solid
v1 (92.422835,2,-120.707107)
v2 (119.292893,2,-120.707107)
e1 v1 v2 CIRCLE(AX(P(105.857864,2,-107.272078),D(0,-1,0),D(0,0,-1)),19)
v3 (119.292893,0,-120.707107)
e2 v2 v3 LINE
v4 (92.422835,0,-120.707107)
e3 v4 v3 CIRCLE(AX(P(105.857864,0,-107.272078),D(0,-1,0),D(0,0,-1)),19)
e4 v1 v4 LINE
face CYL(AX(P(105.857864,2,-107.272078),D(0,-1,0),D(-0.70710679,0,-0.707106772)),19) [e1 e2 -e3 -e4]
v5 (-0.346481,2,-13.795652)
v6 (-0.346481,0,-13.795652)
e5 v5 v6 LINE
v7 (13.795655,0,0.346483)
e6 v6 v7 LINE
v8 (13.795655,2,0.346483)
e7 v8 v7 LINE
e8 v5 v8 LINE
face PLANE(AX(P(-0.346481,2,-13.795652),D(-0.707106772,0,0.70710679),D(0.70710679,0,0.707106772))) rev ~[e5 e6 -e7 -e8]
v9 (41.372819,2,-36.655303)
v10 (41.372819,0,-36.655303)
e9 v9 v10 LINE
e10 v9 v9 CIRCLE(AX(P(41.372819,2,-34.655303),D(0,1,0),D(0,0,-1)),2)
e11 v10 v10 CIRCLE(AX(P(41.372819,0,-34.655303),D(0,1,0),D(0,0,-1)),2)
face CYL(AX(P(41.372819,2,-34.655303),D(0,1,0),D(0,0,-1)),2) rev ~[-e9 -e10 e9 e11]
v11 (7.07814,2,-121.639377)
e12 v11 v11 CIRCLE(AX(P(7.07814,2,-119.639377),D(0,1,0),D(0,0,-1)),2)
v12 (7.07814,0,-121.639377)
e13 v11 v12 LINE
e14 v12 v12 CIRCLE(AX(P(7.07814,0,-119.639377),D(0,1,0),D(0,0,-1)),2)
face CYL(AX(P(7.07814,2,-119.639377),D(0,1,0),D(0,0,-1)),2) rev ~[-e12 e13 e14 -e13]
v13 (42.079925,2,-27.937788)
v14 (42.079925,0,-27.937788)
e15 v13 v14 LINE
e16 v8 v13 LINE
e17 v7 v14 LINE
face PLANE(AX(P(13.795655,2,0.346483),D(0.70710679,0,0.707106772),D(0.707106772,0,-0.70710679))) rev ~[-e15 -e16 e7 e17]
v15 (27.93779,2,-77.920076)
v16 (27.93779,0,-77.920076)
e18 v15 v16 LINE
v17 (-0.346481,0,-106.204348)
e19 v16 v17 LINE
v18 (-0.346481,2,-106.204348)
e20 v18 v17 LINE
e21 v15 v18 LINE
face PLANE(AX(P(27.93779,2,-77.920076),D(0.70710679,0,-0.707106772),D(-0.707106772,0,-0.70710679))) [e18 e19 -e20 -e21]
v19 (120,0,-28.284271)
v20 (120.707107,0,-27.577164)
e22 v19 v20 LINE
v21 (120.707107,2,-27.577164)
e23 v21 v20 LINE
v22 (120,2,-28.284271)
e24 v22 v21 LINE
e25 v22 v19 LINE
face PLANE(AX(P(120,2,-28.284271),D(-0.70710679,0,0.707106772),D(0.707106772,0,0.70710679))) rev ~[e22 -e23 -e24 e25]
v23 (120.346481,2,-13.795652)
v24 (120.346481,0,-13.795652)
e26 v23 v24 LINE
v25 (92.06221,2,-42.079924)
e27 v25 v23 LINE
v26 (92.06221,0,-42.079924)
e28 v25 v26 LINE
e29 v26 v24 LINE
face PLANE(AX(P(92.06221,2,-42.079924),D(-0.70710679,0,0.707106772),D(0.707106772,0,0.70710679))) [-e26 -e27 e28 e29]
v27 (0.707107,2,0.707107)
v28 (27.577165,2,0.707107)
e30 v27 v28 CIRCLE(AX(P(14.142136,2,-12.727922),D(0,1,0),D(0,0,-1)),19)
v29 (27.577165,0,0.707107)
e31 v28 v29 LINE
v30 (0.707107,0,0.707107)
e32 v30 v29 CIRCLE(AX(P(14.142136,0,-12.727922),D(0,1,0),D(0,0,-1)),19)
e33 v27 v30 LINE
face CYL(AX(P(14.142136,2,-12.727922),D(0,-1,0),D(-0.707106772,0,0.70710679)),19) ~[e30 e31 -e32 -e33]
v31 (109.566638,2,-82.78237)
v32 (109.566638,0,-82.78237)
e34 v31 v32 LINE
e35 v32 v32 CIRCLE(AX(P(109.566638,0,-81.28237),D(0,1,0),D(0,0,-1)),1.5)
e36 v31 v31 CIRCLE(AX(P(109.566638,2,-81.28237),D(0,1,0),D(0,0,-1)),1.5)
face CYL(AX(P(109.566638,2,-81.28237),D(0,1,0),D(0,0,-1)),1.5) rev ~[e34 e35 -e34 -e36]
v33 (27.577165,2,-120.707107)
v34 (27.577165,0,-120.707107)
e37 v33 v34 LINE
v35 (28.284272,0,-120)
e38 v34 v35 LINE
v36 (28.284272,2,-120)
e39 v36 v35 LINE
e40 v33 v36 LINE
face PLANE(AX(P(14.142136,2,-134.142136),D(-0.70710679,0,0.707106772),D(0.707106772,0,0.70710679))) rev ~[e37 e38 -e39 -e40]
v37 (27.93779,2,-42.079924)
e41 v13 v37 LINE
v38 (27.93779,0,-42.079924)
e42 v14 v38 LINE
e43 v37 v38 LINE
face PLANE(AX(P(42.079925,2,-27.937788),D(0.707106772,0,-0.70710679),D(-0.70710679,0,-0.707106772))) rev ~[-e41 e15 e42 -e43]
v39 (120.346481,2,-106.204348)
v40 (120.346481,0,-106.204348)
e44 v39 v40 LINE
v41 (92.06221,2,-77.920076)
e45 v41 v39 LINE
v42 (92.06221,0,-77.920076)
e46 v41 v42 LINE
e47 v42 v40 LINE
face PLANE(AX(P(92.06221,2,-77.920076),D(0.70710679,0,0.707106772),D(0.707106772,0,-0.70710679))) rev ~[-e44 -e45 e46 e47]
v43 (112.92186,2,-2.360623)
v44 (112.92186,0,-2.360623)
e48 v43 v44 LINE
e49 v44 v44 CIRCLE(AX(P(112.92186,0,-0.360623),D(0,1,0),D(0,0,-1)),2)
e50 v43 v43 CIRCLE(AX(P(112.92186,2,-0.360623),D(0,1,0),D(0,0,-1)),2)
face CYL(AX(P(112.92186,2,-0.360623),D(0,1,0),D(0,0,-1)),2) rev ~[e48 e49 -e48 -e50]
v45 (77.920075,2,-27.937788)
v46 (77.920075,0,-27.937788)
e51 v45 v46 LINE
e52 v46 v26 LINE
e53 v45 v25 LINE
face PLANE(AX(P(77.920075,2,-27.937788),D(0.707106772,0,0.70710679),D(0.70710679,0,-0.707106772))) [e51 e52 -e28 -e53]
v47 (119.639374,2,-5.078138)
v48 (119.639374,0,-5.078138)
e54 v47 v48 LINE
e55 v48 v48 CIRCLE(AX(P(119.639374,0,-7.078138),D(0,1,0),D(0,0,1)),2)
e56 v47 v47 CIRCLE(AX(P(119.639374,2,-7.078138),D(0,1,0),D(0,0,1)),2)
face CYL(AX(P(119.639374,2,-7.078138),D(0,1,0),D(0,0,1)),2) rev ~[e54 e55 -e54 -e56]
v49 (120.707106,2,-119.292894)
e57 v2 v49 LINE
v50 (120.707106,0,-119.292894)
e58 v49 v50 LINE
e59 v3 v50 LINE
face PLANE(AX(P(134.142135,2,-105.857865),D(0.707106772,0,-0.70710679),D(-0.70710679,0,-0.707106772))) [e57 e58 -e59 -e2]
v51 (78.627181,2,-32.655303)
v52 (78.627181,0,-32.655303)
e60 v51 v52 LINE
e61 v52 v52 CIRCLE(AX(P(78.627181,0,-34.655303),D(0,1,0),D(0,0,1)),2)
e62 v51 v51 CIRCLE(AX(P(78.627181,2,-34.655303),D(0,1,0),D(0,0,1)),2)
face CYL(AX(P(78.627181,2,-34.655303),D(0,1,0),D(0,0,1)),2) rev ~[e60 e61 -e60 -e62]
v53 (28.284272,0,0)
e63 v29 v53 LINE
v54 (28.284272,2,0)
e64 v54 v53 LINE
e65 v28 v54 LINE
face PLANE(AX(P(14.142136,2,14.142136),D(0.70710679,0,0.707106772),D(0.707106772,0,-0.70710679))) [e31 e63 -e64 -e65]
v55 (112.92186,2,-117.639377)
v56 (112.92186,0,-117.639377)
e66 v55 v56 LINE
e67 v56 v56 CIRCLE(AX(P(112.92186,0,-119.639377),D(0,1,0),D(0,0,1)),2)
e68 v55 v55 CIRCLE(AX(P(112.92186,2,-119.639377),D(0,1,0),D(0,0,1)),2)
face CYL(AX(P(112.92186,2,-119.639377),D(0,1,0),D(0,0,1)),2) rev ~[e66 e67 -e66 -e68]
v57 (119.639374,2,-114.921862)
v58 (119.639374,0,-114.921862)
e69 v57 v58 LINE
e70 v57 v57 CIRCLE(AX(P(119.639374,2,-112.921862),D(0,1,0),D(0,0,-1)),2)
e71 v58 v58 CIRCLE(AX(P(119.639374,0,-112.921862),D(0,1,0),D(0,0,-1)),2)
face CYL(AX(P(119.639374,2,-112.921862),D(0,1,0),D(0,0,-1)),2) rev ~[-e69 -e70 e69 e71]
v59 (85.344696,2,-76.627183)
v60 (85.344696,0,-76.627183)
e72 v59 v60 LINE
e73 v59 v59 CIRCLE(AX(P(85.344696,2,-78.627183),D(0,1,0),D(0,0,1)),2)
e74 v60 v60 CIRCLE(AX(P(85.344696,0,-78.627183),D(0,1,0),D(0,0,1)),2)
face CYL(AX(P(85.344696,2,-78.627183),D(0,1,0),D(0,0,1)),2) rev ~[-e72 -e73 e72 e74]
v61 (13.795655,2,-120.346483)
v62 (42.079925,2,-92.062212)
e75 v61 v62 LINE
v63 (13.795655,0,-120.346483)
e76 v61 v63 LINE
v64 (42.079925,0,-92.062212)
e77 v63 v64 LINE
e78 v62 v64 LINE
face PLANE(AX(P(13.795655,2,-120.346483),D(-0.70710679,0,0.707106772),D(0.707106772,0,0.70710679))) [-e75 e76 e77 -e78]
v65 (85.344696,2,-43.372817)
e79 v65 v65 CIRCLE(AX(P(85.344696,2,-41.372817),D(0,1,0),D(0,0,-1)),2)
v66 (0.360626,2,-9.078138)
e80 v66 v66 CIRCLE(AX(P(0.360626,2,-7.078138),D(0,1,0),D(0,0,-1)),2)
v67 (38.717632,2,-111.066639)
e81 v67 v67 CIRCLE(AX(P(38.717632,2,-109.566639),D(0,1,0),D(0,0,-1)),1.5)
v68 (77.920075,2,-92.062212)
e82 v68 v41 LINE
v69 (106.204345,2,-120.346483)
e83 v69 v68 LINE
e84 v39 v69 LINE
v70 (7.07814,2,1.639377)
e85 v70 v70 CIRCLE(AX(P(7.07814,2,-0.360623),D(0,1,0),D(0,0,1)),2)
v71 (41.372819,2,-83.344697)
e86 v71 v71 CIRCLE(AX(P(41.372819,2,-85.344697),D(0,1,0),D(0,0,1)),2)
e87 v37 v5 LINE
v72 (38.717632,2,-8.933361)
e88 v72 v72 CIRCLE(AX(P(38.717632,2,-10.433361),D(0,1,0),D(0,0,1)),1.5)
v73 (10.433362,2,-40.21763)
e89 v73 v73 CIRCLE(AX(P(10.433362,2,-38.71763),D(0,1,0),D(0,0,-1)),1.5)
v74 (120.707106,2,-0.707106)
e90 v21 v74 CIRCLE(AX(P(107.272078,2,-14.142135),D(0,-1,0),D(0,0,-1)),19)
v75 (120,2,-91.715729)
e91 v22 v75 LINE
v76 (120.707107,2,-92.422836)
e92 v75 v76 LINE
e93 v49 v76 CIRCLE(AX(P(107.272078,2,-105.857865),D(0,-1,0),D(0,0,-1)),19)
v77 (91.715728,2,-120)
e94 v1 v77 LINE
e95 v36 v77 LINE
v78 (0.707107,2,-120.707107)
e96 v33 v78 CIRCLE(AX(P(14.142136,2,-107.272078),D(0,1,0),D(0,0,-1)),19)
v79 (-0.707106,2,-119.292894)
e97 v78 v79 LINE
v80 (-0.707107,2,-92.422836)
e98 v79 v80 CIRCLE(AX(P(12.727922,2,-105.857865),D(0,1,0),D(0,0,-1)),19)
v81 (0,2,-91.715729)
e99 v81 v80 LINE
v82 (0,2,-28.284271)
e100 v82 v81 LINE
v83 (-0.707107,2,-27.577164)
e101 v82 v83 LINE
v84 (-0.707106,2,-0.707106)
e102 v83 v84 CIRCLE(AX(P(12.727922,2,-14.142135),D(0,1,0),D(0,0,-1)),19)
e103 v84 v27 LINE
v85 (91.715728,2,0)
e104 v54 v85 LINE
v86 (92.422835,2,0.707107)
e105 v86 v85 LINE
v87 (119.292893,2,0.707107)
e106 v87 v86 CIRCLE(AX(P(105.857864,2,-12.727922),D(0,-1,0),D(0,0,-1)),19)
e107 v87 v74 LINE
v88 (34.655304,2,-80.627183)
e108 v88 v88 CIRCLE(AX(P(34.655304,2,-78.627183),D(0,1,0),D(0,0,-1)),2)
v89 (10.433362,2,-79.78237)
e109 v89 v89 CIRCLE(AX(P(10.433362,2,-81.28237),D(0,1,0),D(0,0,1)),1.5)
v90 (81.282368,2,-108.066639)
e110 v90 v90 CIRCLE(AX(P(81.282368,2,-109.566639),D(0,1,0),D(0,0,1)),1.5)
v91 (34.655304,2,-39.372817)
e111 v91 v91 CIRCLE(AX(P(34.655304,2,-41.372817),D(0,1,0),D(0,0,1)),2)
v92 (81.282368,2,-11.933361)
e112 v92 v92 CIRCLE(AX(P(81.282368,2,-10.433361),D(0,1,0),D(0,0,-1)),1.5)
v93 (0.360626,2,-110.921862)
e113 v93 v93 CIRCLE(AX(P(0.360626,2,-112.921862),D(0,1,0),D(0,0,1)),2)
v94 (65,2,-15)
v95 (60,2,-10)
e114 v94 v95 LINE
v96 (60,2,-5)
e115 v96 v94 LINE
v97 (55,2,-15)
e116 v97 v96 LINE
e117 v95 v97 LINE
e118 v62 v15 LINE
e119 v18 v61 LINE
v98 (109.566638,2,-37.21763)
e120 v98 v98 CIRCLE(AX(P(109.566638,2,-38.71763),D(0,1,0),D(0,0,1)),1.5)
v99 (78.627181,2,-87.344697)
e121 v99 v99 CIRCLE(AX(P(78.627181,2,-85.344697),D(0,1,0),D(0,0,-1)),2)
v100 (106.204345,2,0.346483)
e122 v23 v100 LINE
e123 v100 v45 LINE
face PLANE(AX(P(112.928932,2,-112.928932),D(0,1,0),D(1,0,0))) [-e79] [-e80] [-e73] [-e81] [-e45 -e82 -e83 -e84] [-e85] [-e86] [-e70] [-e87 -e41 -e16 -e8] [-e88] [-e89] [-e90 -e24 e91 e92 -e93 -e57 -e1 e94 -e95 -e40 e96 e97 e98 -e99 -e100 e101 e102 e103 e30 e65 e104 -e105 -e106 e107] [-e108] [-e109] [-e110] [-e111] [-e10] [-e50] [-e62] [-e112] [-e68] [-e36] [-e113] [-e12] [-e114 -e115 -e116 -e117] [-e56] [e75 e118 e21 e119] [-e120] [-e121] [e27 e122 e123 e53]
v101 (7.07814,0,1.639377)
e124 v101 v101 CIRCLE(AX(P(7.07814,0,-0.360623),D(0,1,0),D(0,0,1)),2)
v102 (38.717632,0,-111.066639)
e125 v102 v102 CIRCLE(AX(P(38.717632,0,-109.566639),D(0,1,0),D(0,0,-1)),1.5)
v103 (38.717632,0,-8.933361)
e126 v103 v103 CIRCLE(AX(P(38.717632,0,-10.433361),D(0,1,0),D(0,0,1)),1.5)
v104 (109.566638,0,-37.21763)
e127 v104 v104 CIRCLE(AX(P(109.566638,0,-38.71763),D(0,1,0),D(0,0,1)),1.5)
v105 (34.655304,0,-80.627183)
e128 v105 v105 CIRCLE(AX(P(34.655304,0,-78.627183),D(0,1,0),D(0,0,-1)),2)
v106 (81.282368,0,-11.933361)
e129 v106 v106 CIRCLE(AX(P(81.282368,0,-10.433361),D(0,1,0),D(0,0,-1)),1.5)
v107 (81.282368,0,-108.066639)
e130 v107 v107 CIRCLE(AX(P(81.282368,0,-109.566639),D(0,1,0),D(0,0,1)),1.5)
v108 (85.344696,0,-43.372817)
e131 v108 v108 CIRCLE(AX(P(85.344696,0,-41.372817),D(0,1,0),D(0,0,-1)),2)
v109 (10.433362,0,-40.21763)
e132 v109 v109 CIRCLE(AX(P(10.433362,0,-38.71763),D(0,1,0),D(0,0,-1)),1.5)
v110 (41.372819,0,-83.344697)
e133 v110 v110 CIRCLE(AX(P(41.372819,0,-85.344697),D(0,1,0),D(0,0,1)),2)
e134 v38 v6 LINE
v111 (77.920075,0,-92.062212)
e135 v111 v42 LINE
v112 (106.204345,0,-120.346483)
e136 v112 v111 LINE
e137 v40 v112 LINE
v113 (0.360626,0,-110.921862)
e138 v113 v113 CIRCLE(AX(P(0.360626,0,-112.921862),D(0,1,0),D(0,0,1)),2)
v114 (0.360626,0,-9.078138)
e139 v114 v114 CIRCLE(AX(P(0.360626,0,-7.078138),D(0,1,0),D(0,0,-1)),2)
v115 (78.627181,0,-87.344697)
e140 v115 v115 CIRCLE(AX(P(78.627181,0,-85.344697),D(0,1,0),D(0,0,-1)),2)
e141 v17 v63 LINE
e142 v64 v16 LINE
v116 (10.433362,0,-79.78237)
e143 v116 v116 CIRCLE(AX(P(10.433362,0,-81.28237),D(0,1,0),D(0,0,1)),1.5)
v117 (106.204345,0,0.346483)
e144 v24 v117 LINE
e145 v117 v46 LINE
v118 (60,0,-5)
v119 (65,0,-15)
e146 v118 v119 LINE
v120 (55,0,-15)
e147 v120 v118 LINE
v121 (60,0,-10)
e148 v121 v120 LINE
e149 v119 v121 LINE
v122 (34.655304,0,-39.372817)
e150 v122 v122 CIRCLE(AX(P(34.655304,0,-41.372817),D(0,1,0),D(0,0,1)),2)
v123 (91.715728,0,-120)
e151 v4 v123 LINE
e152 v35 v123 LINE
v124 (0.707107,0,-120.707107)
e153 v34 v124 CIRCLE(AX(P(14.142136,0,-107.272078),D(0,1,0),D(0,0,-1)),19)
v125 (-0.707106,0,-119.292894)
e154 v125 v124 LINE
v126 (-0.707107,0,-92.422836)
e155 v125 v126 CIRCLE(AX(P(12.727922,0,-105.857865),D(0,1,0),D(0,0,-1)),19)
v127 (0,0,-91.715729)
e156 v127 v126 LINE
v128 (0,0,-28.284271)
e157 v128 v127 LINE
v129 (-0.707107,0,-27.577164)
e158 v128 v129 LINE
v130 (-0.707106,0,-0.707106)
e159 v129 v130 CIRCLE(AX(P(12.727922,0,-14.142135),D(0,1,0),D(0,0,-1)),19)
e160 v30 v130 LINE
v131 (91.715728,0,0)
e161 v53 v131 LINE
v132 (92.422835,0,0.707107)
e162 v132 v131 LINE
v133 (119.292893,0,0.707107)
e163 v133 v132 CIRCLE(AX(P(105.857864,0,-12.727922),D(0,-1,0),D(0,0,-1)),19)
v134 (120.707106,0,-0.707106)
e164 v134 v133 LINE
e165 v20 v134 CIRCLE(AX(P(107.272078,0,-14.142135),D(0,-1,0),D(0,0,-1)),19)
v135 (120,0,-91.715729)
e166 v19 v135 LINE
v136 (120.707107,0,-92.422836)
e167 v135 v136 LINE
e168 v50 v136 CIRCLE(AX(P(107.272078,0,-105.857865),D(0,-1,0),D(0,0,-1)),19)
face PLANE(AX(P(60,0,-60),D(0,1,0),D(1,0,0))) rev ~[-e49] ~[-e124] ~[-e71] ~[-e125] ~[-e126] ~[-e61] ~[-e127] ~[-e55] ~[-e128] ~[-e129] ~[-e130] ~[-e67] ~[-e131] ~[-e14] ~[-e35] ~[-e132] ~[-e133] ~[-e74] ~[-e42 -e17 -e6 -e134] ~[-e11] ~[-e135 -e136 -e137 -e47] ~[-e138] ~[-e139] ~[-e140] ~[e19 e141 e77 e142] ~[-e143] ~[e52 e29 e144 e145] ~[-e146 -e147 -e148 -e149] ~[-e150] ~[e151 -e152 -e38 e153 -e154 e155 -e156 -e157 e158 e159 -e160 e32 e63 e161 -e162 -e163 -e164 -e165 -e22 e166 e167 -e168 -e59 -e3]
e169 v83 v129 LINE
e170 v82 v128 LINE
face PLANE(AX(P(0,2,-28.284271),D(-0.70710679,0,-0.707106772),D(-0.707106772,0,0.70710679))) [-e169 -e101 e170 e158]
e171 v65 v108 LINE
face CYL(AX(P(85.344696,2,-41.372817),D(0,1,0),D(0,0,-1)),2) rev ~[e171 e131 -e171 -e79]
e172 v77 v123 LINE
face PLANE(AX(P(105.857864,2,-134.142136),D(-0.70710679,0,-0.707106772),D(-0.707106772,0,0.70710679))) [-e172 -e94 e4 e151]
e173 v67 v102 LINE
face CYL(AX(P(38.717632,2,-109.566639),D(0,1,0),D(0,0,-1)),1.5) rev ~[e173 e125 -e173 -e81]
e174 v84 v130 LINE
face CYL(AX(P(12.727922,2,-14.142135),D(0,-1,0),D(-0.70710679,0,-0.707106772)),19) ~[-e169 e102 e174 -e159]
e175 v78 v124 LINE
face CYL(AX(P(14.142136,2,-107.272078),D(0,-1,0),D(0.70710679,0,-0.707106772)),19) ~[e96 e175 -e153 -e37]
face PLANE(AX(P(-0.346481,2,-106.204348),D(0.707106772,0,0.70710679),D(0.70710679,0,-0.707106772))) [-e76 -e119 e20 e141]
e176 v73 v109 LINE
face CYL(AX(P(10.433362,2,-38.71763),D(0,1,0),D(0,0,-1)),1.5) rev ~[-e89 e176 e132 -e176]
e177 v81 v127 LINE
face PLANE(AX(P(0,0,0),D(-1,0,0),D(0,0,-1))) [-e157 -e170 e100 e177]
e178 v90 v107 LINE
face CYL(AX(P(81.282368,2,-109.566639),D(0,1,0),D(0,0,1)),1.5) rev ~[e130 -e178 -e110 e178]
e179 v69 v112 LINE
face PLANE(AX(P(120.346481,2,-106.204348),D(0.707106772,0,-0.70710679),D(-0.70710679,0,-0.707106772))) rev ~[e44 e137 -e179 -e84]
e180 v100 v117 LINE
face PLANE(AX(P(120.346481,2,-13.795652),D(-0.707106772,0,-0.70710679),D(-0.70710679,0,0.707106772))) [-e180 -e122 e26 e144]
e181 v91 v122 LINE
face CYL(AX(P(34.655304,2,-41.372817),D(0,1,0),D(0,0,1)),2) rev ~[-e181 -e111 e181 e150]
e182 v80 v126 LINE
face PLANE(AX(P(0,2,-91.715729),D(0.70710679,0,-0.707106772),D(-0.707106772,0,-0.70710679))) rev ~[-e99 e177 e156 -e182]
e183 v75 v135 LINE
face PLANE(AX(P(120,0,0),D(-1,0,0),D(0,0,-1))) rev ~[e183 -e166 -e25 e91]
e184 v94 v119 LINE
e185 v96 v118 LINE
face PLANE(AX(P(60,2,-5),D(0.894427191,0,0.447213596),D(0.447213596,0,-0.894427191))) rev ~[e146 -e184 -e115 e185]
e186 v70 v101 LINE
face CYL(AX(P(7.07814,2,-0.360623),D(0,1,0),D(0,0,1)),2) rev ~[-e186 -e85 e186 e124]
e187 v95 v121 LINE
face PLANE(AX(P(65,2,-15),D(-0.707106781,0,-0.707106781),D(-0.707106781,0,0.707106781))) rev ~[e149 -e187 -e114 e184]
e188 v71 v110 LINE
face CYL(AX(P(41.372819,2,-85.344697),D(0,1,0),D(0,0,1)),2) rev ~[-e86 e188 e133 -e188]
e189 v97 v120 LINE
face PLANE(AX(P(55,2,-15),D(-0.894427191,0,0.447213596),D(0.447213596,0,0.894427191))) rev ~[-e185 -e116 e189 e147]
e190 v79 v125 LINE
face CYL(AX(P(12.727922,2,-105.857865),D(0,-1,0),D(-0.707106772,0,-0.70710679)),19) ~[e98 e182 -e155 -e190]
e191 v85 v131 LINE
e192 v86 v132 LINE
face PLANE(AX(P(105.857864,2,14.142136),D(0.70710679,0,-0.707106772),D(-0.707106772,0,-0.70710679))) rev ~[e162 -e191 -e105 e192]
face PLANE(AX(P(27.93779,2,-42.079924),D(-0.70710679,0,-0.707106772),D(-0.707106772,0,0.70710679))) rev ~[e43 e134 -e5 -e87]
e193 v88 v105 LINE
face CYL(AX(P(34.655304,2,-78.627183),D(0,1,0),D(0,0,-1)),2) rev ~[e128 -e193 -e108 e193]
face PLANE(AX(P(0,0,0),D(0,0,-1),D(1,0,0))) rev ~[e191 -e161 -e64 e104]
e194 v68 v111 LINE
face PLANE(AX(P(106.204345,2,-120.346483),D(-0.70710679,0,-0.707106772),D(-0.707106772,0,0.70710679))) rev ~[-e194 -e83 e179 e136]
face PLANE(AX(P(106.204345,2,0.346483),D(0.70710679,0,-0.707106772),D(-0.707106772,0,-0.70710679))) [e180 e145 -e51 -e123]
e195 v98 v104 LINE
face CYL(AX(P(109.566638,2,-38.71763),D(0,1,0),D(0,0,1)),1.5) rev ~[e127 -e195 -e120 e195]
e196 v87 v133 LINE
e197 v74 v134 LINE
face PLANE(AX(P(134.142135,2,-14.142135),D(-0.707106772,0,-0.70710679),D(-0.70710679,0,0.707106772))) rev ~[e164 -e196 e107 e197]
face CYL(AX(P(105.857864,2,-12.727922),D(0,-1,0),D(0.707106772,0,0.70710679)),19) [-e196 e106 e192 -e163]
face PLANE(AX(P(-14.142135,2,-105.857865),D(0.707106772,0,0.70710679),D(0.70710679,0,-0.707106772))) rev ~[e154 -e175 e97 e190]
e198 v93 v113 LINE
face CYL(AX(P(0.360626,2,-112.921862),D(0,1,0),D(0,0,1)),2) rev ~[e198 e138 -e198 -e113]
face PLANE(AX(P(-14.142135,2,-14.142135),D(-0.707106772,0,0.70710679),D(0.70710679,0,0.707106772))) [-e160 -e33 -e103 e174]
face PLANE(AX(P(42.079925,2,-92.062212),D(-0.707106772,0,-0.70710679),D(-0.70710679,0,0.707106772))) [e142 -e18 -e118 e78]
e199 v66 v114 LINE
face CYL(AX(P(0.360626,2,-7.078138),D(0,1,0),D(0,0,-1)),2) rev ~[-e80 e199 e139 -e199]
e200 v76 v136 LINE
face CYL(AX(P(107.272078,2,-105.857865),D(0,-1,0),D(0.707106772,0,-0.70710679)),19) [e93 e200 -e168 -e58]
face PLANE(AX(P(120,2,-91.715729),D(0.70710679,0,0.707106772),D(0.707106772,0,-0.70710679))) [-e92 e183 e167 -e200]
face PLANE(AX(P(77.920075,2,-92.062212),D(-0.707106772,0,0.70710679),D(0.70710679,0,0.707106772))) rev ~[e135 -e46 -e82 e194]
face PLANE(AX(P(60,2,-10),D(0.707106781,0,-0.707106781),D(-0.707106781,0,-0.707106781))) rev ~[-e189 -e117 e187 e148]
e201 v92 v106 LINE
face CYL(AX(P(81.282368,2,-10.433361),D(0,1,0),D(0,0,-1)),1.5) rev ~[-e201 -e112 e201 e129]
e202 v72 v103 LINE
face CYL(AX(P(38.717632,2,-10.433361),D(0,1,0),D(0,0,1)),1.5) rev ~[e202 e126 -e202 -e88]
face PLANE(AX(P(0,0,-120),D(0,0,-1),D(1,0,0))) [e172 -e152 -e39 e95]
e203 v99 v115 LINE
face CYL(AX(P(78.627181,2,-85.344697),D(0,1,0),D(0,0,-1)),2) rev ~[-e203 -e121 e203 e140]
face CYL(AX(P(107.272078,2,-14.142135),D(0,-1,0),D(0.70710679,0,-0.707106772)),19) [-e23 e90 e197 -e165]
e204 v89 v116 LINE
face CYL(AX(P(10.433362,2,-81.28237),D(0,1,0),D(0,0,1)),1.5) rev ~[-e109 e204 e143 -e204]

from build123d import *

# Parameters (mm, degrees)
SKETCH1_W           = 120
SKETCH1_H           = 120
BOSS_EXTRUDE1_DEPTH = 2
BOSS_EXTRUDE3_DEPTH = 2
SKETCH3_R           = 2
CUT_EXTRUDE1_DEPTH  = 2
FILLET1_R           = 19
SKETCH4_R           = 1.5
CUT_EXTRUDE2_DEPTH  = 2
CUT_EXTRUDE3_DEPTH  = 2


with BuildPart() as part:
    # Sketch1 → Boss-Extrude1 (new body)
    with BuildSketch(Plane(origin=(0, 0, 0), x_dir=(1, 0, 0), z_dir=(0, 1, 0))):
        with Locations((60, 60)):
            Rectangle(SKETCH1_W, SKETCH1_H)
    extrude(amount=BOSS_EXTRUDE1_DEPTH)

    # Sketch2 → Boss-Extrude3 (add)
    with BuildSketch(Plane(origin=(0, 2, 0), x_dir=(1, 0, 0), z_dir=(0, 1, 0))):
        Polygon((91.715728382, 120), (120, 91.715729123), (134.142135439, 105.857864931), (105.857863821, 134.142135809), align=None)
        Polygon((0, 91.715729123), (-14.142135439, 105.857864931), (14.142136179, 134.142135809), (28.284271618, 120), align=None)
        Polygon((28.284271618, 0), (0, 28.284270877), (-14.142135439, 14.142135069), (14.142136179, -14.142135809), align=None)
        Polygon((120, 28.284270877), (134.142135439, 14.142135069), (105.857863821, -14.142135809), (91.715728382, 0), align=None)
    extrude(amount=-BOSS_EXTRUDE3_DEPTH)

    # Sketch3 → Cut-Extrude1 (cut)
    with BuildSketch(Plane(origin=(0, 2, 0), x_dir=(1, 0, 0), z_dir=(0, 1, 0))):
        with Locations(Location((7.078140075, 0.360623351, 0), (0, 0, 270))):
            Circle(SKETCH3_R)
        with Locations(Location((0.360625566, 7.078137684, 0), (0, 0, 90))):
            Circle(SKETCH3_R)
        with Locations(Location((41.372818514, 34.655302687, 0), (0, 0, 90))):
            Circle(SKETCH3_R)
        with Locations(Location((34.655304005, 41.372817021, 0), (0, 0, 270))):
            Circle(SKETCH3_R)
        with Locations(Location((112.921859925, 0.360623351, 0), (0, 0, 90))):
            Circle(SKETCH3_R)
        with Locations(Location((119.639374434, 7.078137684, 0), (0, 0, 270))):
            Circle(SKETCH3_R)
        with Locations(Location((78.627181486, 34.655302687, 0), (0, 0, 270))):
            Circle(SKETCH3_R)
        with Locations(Location((85.344695995, 41.372817021, 0), (0, 0, 90))):
            Circle(SKETCH3_R)
        with Locations(Location((112.921859925, 119.639376649, 0), (0, 0, 270))):
            Circle(SKETCH3_R)
        with Locations(Location((119.639374434, 112.921862316, 0), (0, 0, 90))):
            Circle(SKETCH3_R)
        with Locations(Location((78.627181486, 85.344697313, 0), (0, 0, 90))):
            Circle(SKETCH3_R)
        with Locations(Location((85.344695995, 78.627182979, 0), (0, 0, 270))):
            Circle(SKETCH3_R)
        with Locations(Location((7.078140075, 119.639376649, 0), (0, 0, 90))):
            Circle(SKETCH3_R)
        with Locations(Location((0.360625566, 112.921862316, 0), (0, 0, 270))):
            Circle(SKETCH3_R)
        with Locations(Location((41.372818514, 85.344697313, 0), (0, 0, 270))):
            Circle(SKETCH3_R)
        with Locations(Location((34.655304005, 78.627182979, 0), (0, 0, 90))):
            Circle(SKETCH3_R)
        Polygon((13.795654506, -0.346483342), (42.079925383, 27.937788275), (27.937789574, 42.079923714), (-0.346481303, 13.795652096), align=None)
        Polygon((77.920074617, 27.937788275), (92.062210426, 42.079923714), (120.346481303, 13.795652096), (106.204345494, -0.346483342), align=None)
        Polygon((106.204345494, 120.346483342), (77.920074617, 92.062211725), (92.062210426, 77.920076286), (120.346481303, 106.204347904), align=None)
        Polygon((42.079925383, 92.062211725), (27.937789574, 77.920076286), (-0.346481303, 106.204347904), (13.795654506, 120.346483342), align=None)
    extrude(amount=-CUT_EXTRUDE1_DEPTH, mode=Mode.SUBTRACT)

    # Fillet1
    fillet1_edges = [part.edges().sort_by_distance(p)[0] for p in [
        (105.857863821, 1, -134.142135809),
        (134.142135439, 1, -105.857864931),
        (-14.142135439, 1, -105.857864931),
        (14.142136179, 1, -134.142135809),
        (14.142136179, 1, 14.142135809),
        (-14.142135439, 1, -14.142135069),
        (134.142135439, 1, -14.142135069),
        (105.857863821, 1, 14.142135809),
    ]]
    fillet(fillet1_edges, radius=FILLET1_R)

    # Sketch4 → Cut-Extrude2 (cut)
    with BuildSketch(Plane(origin=(0, 2, 0), x_dir=(1, 0, 0), z_dir=(0, 1, 0))):
        with Locations(Location((38.717632037, 10.433360693, 0), (0, 0, 270))):
            Circle(SKETCH4_R)
        with Locations(Location((10.43336208, 38.71762991, 0), (0, 0, 90))):
            Circle(SKETCH4_R)
        with Locations(Location((81.282367963, 10.433360693, 0), (0, 0, 90))):
            Circle(SKETCH4_R)
        with Locations(Location((109.56663792, 38.71762991, 0), (0, 0, 270))):
            Circle(SKETCH4_R)
        with Locations(Location((38.717632037, 109.566639307, 0), (0, 0, 90))):
            Circle(SKETCH4_R)
        with Locations(Location((10.43336208, 81.28237009, 0), (0, 0, 270))):
            Circle(SKETCH4_R)
        with Locations(Location((81.282367963, 109.566639307, 0), (0, 0, 270))):
            Circle(SKETCH4_R)
        with Locations(Location((109.56663792, 81.28237009, 0), (0, 0, 90))):
            Circle(SKETCH4_R)
    extrude(amount=-CUT_EXTRUDE2_DEPTH, mode=Mode.SUBTRACT)

    # Sketch5 → Cut-Extrude3 (cut)
    with BuildSketch(Plane(origin=(0, 2, 0), x_dir=(1, 0, 0), z_dir=(0, 1, 0))):
        Polygon((65, 15), (60, 10), (55, 15), (60, 5), align=None)
    extrude(amount=-CUT_EXTRUDE3_DEPTH, mode=Mode.SUBTRACT)


solid = part.part
